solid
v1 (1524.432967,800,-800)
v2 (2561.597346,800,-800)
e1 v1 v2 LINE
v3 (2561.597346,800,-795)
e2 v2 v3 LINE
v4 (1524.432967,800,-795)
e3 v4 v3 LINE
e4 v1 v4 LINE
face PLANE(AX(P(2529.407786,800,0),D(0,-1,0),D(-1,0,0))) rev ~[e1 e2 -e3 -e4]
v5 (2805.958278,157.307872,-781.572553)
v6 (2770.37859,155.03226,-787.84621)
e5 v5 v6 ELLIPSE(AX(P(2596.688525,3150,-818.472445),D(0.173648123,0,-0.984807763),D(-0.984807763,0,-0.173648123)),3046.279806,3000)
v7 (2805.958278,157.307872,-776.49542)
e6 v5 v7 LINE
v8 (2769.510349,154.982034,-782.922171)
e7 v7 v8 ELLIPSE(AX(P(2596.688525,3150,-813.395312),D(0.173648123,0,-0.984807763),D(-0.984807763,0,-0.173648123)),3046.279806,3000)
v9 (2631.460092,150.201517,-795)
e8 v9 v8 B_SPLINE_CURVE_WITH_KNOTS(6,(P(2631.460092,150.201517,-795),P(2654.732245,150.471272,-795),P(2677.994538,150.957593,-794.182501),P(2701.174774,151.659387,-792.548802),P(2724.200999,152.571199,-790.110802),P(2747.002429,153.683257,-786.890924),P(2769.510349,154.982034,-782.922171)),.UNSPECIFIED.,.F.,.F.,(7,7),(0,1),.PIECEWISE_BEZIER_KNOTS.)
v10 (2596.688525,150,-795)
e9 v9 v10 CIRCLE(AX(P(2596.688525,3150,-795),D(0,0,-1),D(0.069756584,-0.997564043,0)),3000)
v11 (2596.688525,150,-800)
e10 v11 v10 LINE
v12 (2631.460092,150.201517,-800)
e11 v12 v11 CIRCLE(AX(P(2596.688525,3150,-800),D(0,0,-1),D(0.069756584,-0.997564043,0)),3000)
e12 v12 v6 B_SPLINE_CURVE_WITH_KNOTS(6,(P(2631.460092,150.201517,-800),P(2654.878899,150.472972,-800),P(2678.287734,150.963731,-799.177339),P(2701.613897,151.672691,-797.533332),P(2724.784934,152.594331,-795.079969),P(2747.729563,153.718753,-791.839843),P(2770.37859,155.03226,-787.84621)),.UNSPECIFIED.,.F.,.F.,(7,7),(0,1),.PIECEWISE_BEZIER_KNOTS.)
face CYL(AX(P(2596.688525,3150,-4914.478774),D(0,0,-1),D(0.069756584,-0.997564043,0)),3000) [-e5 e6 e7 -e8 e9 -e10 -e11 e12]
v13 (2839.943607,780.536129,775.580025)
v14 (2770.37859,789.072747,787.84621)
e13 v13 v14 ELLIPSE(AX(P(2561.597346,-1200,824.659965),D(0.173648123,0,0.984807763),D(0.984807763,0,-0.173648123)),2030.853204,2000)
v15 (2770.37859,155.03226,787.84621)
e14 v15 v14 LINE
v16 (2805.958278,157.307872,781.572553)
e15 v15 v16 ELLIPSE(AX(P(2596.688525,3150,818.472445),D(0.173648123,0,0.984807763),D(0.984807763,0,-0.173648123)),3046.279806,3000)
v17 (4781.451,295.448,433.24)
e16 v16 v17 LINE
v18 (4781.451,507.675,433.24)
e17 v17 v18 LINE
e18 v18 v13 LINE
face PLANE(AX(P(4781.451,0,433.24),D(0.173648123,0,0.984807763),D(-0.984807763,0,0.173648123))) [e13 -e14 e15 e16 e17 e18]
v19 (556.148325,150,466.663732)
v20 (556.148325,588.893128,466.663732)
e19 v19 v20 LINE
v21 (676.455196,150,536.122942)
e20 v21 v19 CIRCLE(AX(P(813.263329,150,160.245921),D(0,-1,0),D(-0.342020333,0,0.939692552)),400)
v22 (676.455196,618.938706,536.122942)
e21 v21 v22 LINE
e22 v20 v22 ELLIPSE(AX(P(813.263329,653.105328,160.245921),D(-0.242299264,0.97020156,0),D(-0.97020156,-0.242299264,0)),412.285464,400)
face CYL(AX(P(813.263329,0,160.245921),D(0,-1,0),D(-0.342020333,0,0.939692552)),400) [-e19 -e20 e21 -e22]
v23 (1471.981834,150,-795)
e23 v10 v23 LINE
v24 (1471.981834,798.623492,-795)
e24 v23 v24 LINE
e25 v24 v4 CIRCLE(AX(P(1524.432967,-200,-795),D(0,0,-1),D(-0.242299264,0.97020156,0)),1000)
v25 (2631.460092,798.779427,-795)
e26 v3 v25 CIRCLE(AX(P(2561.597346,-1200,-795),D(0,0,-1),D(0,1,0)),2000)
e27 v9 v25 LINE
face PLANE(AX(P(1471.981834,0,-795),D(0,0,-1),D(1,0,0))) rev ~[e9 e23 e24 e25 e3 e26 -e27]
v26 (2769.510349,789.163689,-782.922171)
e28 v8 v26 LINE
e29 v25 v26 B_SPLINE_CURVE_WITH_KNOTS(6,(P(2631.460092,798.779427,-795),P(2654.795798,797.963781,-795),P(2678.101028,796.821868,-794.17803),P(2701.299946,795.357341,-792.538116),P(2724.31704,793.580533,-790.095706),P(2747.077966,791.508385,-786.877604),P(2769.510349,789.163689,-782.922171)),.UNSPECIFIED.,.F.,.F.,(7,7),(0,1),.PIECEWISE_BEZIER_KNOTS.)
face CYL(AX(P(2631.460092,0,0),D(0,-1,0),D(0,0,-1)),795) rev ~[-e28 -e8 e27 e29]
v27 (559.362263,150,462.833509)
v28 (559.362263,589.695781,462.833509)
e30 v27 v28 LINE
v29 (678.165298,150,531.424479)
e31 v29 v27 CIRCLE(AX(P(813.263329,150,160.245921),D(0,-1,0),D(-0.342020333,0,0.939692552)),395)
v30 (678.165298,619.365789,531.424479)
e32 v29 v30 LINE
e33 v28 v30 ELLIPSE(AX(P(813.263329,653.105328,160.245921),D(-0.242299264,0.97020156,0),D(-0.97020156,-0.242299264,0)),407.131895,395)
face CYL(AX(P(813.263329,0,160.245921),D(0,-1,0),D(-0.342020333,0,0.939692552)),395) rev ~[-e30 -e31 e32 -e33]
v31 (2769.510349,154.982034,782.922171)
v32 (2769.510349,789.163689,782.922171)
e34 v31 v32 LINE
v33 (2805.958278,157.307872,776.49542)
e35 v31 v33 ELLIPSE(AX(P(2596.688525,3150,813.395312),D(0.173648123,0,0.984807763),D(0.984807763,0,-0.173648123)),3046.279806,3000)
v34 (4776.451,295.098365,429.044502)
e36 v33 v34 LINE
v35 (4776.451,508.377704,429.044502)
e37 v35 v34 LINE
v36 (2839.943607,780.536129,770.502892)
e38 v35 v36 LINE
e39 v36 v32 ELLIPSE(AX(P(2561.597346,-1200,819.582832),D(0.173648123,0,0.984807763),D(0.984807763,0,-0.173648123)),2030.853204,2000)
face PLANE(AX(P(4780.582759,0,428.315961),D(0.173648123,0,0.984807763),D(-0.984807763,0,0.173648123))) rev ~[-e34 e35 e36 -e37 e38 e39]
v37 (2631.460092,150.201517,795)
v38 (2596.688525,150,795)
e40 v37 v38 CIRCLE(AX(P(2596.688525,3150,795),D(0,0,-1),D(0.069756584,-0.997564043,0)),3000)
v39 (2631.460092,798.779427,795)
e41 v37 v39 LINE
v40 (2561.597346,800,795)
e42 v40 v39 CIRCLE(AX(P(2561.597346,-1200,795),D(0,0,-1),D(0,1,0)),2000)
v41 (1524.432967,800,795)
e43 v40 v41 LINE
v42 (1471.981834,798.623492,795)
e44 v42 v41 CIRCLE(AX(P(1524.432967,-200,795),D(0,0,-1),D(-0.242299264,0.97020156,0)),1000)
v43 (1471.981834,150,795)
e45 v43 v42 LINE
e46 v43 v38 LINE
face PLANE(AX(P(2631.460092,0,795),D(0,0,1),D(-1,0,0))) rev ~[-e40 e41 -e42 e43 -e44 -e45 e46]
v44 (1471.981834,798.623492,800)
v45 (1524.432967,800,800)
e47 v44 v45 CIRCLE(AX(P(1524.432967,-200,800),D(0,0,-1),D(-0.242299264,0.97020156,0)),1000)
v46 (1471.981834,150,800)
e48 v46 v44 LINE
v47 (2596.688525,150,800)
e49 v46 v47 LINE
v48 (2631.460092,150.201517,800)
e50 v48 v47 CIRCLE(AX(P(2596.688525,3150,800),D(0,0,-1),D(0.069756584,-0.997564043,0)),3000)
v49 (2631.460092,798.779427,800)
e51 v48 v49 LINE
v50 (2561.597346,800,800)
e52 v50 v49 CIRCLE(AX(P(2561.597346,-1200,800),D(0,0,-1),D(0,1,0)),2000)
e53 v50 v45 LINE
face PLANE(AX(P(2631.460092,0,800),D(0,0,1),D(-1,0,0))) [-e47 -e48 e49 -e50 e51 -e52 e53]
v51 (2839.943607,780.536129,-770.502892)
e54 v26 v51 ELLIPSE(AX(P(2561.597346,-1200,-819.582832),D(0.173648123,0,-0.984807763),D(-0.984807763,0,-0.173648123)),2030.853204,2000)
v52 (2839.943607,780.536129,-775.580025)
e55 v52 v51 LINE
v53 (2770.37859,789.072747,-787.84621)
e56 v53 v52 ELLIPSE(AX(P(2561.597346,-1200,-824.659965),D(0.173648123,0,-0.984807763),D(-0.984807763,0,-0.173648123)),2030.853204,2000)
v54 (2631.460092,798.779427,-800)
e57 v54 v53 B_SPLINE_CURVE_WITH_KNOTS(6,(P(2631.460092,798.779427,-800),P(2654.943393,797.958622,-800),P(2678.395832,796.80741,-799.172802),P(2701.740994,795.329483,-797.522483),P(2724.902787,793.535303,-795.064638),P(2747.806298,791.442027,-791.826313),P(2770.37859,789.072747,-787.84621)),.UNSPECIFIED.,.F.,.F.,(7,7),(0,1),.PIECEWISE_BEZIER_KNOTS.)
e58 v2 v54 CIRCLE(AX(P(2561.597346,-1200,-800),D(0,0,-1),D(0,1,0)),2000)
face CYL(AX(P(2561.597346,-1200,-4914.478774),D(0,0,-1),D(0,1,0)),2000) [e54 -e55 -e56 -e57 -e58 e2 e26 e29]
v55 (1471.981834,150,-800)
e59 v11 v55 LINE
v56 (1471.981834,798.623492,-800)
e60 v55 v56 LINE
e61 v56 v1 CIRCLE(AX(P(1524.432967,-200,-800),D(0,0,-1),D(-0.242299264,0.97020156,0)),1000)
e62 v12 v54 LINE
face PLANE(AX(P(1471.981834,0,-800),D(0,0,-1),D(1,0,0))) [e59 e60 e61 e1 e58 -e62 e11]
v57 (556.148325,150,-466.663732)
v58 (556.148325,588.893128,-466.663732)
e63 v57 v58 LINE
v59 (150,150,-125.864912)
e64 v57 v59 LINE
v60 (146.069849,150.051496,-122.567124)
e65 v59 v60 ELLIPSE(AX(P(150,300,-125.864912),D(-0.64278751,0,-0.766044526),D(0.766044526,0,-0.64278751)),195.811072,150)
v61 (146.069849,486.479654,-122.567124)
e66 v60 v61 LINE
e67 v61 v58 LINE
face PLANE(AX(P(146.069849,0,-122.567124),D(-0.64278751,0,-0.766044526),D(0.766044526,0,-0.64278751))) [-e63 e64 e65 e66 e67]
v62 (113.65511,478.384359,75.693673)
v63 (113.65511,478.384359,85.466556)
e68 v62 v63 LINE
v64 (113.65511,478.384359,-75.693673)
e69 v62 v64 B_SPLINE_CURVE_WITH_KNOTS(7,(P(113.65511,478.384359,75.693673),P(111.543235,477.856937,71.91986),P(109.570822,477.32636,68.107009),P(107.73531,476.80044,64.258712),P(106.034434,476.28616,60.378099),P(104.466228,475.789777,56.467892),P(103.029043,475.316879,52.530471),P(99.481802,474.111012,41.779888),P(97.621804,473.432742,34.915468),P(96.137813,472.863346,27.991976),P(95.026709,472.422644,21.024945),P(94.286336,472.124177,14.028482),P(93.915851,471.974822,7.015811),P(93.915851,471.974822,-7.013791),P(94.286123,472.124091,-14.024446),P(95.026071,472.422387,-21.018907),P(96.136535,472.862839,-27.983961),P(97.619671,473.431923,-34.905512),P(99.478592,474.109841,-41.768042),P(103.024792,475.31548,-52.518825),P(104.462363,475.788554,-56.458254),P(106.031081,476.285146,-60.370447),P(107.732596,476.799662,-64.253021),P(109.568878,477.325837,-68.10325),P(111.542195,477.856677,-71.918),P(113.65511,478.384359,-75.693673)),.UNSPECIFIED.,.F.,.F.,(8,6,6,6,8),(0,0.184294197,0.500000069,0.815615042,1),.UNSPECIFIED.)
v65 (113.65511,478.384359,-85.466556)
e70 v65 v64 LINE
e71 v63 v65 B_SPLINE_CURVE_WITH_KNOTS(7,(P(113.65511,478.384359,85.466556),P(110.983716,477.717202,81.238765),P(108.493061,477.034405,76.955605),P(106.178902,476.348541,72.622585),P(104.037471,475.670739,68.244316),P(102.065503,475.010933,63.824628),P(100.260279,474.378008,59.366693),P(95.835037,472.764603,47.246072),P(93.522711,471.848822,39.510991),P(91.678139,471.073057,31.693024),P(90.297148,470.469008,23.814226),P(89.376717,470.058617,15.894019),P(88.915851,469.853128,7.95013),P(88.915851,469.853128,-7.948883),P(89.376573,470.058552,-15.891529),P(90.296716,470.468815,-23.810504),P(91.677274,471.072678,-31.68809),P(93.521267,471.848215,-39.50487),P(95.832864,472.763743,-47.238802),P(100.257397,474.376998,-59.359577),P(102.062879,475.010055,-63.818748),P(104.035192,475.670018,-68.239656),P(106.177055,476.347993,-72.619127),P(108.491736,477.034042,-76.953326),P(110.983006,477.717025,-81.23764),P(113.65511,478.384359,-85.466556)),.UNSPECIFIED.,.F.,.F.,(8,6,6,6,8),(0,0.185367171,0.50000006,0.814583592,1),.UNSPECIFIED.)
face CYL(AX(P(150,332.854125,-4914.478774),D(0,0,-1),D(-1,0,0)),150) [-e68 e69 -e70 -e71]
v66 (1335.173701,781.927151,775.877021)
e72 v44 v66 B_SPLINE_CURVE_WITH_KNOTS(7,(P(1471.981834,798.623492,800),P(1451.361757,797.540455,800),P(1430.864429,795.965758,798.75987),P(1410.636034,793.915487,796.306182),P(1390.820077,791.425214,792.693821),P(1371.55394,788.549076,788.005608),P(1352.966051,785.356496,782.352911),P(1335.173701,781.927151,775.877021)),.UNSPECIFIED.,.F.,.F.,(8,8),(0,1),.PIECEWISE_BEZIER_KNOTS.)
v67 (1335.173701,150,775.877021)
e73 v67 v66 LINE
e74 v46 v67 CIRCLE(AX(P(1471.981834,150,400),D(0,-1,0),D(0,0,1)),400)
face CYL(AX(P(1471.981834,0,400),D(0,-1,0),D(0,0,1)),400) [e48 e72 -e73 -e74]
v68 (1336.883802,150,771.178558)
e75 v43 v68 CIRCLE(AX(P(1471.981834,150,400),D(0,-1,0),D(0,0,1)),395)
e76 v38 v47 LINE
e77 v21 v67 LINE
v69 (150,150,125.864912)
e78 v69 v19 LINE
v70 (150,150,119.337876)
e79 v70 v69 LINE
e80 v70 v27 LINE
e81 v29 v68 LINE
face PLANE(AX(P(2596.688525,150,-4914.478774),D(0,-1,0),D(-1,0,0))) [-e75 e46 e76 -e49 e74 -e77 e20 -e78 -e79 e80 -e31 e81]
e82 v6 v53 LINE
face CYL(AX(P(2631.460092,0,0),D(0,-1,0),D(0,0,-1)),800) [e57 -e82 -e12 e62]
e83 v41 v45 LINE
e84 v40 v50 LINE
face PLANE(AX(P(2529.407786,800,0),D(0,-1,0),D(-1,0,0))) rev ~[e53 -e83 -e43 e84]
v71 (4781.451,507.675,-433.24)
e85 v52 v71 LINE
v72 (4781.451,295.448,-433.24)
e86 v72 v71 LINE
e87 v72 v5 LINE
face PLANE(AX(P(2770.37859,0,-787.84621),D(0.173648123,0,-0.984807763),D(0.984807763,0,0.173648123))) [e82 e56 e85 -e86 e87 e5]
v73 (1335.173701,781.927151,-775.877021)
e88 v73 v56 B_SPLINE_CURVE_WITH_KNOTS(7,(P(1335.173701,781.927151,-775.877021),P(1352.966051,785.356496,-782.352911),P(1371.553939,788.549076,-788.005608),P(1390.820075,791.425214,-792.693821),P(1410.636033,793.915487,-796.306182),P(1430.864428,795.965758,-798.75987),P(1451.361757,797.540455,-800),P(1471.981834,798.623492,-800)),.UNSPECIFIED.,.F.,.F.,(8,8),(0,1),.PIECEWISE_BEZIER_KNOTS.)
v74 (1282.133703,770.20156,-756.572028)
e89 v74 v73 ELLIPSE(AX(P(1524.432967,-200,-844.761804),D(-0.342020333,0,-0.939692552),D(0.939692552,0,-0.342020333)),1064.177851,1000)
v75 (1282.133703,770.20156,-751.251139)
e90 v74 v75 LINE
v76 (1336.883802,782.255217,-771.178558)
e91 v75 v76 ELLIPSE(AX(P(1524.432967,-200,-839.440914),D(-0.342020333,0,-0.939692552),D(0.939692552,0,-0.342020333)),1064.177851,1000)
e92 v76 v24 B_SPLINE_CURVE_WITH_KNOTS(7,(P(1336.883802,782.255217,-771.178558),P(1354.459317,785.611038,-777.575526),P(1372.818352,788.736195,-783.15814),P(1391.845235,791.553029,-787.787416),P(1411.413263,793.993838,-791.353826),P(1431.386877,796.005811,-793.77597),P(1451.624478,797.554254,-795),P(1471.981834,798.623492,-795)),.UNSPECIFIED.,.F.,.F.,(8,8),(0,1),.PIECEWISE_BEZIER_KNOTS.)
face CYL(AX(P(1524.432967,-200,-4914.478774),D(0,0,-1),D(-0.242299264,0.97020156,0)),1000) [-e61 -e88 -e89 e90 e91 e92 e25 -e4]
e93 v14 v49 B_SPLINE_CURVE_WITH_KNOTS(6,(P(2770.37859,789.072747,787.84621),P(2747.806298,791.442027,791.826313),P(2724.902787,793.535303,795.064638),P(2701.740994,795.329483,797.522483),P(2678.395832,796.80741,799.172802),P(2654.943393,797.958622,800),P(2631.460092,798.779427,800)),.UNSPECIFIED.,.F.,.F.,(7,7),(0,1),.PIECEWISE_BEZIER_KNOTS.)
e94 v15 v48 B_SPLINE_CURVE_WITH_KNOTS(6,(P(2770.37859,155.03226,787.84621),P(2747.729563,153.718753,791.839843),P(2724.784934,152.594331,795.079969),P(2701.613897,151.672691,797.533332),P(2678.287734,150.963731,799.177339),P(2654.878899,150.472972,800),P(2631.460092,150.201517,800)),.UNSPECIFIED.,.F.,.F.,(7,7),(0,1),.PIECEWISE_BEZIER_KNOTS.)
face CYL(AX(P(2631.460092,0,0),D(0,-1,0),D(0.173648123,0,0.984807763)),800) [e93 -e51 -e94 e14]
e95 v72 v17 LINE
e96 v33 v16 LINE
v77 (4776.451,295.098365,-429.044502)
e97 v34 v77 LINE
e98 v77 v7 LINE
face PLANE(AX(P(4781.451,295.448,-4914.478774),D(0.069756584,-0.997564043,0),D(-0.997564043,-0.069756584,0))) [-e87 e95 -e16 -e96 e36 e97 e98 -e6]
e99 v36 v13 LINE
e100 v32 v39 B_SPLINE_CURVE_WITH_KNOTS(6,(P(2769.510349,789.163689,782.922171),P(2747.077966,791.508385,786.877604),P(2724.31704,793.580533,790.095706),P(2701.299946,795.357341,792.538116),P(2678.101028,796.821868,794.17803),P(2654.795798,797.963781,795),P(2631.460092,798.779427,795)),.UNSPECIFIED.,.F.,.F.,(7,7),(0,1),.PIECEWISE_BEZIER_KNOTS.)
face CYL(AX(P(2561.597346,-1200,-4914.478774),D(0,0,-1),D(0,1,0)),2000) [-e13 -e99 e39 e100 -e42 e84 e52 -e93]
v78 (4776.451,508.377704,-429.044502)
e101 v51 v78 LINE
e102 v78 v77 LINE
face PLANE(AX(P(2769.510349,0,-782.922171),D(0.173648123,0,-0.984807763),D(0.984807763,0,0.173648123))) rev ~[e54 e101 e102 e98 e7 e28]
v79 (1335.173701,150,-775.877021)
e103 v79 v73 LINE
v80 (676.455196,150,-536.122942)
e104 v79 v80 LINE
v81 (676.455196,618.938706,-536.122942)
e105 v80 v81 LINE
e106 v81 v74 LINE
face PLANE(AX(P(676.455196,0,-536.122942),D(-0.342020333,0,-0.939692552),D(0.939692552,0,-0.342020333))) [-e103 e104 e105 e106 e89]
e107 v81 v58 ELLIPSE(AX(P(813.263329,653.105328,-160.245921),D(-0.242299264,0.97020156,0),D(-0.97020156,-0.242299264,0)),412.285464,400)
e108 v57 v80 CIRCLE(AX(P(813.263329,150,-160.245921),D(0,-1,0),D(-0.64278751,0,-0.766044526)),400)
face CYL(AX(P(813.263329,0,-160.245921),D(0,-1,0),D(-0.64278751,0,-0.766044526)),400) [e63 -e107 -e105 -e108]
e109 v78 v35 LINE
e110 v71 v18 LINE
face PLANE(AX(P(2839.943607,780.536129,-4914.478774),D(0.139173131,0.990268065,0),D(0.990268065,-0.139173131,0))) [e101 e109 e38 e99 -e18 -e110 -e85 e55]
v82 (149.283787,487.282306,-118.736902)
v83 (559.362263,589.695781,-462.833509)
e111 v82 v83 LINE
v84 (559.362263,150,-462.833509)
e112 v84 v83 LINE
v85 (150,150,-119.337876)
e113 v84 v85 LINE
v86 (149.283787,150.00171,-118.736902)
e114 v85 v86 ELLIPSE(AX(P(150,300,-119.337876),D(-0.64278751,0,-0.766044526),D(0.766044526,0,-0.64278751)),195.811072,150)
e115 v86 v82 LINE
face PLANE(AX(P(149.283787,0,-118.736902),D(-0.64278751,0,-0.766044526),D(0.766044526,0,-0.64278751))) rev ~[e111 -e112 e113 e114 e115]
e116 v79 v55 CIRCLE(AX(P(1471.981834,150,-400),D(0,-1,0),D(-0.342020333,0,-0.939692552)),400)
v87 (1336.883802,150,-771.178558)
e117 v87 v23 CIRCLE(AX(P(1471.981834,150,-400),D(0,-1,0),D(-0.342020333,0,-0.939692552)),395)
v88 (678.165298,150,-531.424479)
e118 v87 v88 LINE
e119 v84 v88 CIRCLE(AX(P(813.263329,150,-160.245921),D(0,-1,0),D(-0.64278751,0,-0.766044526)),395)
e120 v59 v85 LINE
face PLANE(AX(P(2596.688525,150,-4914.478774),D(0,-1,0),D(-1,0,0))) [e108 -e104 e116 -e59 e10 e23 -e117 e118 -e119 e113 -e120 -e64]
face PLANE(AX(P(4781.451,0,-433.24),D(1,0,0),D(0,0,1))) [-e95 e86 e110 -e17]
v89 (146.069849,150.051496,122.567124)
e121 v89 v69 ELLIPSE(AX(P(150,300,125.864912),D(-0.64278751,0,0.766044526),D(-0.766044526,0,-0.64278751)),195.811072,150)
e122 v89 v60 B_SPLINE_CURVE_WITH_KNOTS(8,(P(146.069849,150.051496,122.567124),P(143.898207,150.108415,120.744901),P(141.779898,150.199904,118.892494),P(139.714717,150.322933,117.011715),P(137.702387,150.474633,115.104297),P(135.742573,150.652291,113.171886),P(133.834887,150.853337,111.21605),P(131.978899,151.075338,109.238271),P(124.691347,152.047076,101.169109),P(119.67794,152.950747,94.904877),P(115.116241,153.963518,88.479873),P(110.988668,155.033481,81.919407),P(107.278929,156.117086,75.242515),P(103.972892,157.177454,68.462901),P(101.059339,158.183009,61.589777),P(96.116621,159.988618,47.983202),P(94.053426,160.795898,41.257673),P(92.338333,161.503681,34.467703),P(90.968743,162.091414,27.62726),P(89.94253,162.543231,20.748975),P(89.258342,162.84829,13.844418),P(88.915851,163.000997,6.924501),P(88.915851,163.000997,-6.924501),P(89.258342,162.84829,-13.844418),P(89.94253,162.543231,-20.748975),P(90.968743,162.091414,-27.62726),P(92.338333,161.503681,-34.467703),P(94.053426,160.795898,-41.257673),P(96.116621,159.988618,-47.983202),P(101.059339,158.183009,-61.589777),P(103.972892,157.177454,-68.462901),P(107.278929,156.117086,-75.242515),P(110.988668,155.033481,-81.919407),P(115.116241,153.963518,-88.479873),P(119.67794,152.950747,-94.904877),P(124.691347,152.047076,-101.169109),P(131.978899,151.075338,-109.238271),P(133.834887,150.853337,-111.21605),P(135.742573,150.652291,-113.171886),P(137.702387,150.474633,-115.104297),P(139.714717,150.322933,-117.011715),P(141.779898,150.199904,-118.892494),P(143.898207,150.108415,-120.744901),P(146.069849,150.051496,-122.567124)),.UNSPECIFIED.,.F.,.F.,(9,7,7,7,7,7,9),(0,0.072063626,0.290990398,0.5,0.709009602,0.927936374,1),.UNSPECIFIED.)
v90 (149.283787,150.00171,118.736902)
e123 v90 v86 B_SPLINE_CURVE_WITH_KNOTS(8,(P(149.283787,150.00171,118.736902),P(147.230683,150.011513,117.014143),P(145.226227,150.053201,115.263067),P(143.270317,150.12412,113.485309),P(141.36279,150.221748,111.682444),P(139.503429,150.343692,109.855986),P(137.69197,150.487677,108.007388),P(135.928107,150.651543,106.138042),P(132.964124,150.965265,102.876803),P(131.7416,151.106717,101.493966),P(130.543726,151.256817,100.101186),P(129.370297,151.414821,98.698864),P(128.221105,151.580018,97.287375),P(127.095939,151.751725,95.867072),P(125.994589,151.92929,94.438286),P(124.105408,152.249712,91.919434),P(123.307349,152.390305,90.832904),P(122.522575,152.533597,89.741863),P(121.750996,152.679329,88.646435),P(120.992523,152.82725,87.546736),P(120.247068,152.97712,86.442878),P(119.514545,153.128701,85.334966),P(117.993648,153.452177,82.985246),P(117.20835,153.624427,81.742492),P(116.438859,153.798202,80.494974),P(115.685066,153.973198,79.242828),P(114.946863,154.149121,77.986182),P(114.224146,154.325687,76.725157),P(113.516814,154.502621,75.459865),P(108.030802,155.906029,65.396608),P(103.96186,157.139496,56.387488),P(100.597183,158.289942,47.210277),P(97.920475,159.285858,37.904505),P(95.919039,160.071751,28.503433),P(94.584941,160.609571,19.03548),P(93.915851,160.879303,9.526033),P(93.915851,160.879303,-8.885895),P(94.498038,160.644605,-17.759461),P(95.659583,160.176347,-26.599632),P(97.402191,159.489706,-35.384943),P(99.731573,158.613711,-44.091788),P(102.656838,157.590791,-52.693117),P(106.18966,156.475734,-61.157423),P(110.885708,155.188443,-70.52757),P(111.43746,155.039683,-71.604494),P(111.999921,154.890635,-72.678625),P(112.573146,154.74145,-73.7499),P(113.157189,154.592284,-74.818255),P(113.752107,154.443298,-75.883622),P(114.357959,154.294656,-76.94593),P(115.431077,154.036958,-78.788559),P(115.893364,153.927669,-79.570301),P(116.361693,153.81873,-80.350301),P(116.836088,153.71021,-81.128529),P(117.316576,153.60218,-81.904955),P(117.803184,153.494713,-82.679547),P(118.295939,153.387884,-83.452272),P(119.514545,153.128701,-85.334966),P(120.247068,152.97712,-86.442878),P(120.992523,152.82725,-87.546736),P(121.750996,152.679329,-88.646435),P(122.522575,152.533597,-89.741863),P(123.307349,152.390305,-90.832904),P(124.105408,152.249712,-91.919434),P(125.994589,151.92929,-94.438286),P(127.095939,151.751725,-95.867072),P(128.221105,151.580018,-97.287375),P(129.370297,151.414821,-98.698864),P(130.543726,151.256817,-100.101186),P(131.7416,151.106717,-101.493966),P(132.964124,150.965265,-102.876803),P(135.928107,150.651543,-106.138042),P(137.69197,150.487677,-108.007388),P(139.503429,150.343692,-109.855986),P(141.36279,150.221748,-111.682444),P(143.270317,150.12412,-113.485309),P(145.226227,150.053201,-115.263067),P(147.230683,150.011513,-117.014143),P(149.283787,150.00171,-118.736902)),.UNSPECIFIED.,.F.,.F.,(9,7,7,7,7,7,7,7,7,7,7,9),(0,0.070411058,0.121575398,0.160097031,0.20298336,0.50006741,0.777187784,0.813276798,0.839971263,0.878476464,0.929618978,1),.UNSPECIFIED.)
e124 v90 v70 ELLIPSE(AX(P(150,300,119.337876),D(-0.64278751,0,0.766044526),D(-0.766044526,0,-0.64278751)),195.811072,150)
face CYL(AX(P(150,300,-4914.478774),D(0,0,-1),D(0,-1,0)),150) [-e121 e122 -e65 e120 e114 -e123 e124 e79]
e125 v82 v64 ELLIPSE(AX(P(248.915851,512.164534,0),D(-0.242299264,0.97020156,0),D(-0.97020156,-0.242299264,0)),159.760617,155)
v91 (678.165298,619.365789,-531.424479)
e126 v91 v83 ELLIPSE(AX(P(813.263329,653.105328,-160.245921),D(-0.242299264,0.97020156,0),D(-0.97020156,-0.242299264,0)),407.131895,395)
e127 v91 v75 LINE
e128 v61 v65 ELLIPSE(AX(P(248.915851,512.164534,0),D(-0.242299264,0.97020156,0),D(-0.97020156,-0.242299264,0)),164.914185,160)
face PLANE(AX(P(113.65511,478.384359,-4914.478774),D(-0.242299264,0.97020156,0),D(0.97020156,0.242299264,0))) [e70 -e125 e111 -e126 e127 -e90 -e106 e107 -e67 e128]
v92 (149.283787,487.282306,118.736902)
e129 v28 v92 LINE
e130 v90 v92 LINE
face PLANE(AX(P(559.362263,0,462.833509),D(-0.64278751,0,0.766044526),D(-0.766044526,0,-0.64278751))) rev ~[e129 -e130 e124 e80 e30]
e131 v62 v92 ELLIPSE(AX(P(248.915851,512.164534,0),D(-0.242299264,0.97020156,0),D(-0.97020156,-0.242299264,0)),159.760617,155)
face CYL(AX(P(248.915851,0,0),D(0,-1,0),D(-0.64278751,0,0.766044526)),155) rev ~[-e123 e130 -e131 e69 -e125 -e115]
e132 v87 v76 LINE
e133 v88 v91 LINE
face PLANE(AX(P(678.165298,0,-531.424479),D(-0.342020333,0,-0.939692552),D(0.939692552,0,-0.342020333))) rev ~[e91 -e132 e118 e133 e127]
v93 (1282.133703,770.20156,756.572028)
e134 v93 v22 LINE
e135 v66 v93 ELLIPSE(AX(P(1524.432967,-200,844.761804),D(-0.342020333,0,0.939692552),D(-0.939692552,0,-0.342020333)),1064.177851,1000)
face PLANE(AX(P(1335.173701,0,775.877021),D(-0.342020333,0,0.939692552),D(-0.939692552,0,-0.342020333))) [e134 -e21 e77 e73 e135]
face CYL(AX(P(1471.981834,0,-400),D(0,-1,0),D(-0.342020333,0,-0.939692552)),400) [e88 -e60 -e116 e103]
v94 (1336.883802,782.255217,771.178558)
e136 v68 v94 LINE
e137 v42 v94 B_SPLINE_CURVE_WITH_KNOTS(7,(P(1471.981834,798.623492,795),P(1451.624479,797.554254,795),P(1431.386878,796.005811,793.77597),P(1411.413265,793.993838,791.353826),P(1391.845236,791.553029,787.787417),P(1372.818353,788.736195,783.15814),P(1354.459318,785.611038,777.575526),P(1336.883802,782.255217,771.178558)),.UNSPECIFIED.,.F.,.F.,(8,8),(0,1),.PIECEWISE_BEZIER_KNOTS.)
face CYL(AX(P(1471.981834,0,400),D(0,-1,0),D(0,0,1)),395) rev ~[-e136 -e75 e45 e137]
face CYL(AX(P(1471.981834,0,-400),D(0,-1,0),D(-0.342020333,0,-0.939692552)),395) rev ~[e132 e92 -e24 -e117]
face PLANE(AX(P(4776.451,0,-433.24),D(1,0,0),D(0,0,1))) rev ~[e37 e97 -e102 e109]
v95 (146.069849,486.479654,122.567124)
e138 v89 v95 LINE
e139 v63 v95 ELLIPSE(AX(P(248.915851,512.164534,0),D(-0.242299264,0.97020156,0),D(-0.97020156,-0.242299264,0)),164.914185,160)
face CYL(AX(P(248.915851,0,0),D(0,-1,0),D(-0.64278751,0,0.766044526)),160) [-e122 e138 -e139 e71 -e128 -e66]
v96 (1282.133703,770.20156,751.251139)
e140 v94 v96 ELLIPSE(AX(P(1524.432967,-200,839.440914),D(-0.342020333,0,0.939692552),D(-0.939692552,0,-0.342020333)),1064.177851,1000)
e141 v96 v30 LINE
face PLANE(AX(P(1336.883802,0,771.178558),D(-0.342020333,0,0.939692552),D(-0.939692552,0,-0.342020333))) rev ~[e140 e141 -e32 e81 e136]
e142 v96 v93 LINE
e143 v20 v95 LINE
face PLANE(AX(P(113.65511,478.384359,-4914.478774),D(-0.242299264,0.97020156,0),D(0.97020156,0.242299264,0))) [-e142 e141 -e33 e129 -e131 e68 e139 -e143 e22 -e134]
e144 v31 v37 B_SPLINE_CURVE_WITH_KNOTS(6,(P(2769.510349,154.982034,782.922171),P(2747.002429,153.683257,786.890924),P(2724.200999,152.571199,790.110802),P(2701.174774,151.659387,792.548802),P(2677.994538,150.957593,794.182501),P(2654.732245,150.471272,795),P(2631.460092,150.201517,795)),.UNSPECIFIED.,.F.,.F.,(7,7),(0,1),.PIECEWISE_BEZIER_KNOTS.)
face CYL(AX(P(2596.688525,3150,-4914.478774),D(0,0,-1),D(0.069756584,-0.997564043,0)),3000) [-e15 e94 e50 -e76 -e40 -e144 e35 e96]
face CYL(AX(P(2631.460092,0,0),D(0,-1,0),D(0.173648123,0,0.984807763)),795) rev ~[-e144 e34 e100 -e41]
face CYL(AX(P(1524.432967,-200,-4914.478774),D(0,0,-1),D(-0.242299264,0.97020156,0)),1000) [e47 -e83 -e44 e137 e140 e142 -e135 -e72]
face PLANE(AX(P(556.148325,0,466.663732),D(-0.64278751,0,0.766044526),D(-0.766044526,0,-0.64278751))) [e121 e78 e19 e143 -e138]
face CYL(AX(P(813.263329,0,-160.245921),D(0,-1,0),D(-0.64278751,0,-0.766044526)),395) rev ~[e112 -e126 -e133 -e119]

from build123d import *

# Parameters (mm, degrees)
TOPVIEW_EXTRUDE_DEPTH      = 800
SHELL1_T                   = -5
SIDEPROFILE_CUT_DEPTH      = 4914.47877429
SIDEPROFILE_CUT_DEPTH_BACK = 4914.47877429
SKETCH2_OUTSIDE_W          = 5698.923
SKETCH2_OUTSIDE_H          = 1806.388


with BuildPart() as part:
    # Sketch1 → TopView_Extrude (new body)
    with BuildSketch(Plane(origin=(0, 0, 0), x_dir=(1, 0, 0), z_dir=(0, 1, 0))):
        with BuildLine():
            Line((146.069849076, 122.567124227), (556.148324977, 466.663731547))
            ThreePointArc((556.148324977, 466.663731547), (613.263316637, 506.656075273), (676.455195963, 536.122941687))
            Line((676.455195963, 536.122941687), (1335.173700718, 775.877020708))
            ThreePointArc((1335.173700718, 775.877020708), (1402.522523085, 793.923094197), (1471.981833896, 800))
            Line((1471.981833896, 800), (2631.460091708, 800))
            ThreePointArc((2631.460091708, 800), (2701.184663634, 796.955760422), (2770.378589806, 787.846210174))
            Line((2770.378589806, 787.846210174), (4781.451, 433.24))
            Line((4781.451, 433.24), (4781.451, -433.24))
            Line((4781.451, -433.24), (2770.378589806, -787.846210174))
            ThreePointArc((2770.378589806, -787.846210174), (2701.184663634, -796.955760422), (2631.460091708, -800))
            Line((2631.460091708, -800), (1471.981833896, -800))
            ThreePointArc((1471.981833896, -800), (1402.522523085, -793.923094197), (1335.173700718, -775.877020708))
            Line((1335.173700718, -775.877020708), (676.455195963, -536.122941687))
            ThreePointArc((676.455195963, -536.122941687), (613.263316637, -506.656075273), (556.148324977, -466.663731547))
            Line((556.148324977, -466.663731547), (146.069849076, -122.567124227))
            ThreePointArc((146.069849076, -122.567124227), (88.915850742, 0), (146.069849076, 122.567124227))
        make_face()
    extrude(amount=TOPVIEW_EXTRUDE_DEPTH)

    # Shell1
    shell1_openings = [part.faces().sort_by_distance(p)[0] for p in [
        (2472.186486347, 0, 0),
        (2472.186486347, 800, 0),
    ]]
    offset(amount=SHELL1_T, openings=shell1_openings, kind=Kind.INTERSECTION)

    # Sketch2 outside → SideProfile_Cut (cut, two sides: drawn at the far end of the back side and taken through both)
    with BuildSketch(Plane.XY.offset(-SIDEPROFILE_CUT_DEPTH_BACK)):
        with Locations((2435.1835, 400)):
            Rectangle(SKETCH2_OUTSIDE_W, SKETCH2_OUTSIDE_H)
        with BuildLine():
            Line((0, 300), (0, 332.854125267))
            ThreePointArc((0, 332.854125267), (31.780430043, 425.180358155), (113.65511039, 478.384359237))
            Line((113.65511039, 478.384359237), (1282.133703367, 770.201559797))
            ThreePointArc((1282.133703367, 770.201559797), (1402.370605908, 792.522432945), (1524.432967436, 800))
            Line((1524.432967436, 800), (2561.597345878, 800))
            ThreePointArc((2561.597345878, 800), (2701.110323381, 795.128098421), (2839.943607388, 780.536129108))
            Line((2839.943607388, 780.536129108), (4781.451, 507.675))
            Line((4781.451, 507.675), (4781.451, 295.448))
            Line((4781.451, 295.448), (2805.958277636, 157.307872364))
            ThreePointArc((2805.958277636, 157.307872364), (2701.387181329, 151.827524732), (2596.688525433, 150))
            Line((2596.688525433, 150), (150, 150))
            ThreePointArc((150, 150), (43.933982822, 193.933982822), (0, 300))
        make_face(mode=Mode.SUBTRACT)
    extrude(amount=SIDEPROFILE_CUT_DEPTH + SIDEPROFILE_CUT_DEPTH_BACK, mode=Mode.SUBTRACT)


solid = part.part
